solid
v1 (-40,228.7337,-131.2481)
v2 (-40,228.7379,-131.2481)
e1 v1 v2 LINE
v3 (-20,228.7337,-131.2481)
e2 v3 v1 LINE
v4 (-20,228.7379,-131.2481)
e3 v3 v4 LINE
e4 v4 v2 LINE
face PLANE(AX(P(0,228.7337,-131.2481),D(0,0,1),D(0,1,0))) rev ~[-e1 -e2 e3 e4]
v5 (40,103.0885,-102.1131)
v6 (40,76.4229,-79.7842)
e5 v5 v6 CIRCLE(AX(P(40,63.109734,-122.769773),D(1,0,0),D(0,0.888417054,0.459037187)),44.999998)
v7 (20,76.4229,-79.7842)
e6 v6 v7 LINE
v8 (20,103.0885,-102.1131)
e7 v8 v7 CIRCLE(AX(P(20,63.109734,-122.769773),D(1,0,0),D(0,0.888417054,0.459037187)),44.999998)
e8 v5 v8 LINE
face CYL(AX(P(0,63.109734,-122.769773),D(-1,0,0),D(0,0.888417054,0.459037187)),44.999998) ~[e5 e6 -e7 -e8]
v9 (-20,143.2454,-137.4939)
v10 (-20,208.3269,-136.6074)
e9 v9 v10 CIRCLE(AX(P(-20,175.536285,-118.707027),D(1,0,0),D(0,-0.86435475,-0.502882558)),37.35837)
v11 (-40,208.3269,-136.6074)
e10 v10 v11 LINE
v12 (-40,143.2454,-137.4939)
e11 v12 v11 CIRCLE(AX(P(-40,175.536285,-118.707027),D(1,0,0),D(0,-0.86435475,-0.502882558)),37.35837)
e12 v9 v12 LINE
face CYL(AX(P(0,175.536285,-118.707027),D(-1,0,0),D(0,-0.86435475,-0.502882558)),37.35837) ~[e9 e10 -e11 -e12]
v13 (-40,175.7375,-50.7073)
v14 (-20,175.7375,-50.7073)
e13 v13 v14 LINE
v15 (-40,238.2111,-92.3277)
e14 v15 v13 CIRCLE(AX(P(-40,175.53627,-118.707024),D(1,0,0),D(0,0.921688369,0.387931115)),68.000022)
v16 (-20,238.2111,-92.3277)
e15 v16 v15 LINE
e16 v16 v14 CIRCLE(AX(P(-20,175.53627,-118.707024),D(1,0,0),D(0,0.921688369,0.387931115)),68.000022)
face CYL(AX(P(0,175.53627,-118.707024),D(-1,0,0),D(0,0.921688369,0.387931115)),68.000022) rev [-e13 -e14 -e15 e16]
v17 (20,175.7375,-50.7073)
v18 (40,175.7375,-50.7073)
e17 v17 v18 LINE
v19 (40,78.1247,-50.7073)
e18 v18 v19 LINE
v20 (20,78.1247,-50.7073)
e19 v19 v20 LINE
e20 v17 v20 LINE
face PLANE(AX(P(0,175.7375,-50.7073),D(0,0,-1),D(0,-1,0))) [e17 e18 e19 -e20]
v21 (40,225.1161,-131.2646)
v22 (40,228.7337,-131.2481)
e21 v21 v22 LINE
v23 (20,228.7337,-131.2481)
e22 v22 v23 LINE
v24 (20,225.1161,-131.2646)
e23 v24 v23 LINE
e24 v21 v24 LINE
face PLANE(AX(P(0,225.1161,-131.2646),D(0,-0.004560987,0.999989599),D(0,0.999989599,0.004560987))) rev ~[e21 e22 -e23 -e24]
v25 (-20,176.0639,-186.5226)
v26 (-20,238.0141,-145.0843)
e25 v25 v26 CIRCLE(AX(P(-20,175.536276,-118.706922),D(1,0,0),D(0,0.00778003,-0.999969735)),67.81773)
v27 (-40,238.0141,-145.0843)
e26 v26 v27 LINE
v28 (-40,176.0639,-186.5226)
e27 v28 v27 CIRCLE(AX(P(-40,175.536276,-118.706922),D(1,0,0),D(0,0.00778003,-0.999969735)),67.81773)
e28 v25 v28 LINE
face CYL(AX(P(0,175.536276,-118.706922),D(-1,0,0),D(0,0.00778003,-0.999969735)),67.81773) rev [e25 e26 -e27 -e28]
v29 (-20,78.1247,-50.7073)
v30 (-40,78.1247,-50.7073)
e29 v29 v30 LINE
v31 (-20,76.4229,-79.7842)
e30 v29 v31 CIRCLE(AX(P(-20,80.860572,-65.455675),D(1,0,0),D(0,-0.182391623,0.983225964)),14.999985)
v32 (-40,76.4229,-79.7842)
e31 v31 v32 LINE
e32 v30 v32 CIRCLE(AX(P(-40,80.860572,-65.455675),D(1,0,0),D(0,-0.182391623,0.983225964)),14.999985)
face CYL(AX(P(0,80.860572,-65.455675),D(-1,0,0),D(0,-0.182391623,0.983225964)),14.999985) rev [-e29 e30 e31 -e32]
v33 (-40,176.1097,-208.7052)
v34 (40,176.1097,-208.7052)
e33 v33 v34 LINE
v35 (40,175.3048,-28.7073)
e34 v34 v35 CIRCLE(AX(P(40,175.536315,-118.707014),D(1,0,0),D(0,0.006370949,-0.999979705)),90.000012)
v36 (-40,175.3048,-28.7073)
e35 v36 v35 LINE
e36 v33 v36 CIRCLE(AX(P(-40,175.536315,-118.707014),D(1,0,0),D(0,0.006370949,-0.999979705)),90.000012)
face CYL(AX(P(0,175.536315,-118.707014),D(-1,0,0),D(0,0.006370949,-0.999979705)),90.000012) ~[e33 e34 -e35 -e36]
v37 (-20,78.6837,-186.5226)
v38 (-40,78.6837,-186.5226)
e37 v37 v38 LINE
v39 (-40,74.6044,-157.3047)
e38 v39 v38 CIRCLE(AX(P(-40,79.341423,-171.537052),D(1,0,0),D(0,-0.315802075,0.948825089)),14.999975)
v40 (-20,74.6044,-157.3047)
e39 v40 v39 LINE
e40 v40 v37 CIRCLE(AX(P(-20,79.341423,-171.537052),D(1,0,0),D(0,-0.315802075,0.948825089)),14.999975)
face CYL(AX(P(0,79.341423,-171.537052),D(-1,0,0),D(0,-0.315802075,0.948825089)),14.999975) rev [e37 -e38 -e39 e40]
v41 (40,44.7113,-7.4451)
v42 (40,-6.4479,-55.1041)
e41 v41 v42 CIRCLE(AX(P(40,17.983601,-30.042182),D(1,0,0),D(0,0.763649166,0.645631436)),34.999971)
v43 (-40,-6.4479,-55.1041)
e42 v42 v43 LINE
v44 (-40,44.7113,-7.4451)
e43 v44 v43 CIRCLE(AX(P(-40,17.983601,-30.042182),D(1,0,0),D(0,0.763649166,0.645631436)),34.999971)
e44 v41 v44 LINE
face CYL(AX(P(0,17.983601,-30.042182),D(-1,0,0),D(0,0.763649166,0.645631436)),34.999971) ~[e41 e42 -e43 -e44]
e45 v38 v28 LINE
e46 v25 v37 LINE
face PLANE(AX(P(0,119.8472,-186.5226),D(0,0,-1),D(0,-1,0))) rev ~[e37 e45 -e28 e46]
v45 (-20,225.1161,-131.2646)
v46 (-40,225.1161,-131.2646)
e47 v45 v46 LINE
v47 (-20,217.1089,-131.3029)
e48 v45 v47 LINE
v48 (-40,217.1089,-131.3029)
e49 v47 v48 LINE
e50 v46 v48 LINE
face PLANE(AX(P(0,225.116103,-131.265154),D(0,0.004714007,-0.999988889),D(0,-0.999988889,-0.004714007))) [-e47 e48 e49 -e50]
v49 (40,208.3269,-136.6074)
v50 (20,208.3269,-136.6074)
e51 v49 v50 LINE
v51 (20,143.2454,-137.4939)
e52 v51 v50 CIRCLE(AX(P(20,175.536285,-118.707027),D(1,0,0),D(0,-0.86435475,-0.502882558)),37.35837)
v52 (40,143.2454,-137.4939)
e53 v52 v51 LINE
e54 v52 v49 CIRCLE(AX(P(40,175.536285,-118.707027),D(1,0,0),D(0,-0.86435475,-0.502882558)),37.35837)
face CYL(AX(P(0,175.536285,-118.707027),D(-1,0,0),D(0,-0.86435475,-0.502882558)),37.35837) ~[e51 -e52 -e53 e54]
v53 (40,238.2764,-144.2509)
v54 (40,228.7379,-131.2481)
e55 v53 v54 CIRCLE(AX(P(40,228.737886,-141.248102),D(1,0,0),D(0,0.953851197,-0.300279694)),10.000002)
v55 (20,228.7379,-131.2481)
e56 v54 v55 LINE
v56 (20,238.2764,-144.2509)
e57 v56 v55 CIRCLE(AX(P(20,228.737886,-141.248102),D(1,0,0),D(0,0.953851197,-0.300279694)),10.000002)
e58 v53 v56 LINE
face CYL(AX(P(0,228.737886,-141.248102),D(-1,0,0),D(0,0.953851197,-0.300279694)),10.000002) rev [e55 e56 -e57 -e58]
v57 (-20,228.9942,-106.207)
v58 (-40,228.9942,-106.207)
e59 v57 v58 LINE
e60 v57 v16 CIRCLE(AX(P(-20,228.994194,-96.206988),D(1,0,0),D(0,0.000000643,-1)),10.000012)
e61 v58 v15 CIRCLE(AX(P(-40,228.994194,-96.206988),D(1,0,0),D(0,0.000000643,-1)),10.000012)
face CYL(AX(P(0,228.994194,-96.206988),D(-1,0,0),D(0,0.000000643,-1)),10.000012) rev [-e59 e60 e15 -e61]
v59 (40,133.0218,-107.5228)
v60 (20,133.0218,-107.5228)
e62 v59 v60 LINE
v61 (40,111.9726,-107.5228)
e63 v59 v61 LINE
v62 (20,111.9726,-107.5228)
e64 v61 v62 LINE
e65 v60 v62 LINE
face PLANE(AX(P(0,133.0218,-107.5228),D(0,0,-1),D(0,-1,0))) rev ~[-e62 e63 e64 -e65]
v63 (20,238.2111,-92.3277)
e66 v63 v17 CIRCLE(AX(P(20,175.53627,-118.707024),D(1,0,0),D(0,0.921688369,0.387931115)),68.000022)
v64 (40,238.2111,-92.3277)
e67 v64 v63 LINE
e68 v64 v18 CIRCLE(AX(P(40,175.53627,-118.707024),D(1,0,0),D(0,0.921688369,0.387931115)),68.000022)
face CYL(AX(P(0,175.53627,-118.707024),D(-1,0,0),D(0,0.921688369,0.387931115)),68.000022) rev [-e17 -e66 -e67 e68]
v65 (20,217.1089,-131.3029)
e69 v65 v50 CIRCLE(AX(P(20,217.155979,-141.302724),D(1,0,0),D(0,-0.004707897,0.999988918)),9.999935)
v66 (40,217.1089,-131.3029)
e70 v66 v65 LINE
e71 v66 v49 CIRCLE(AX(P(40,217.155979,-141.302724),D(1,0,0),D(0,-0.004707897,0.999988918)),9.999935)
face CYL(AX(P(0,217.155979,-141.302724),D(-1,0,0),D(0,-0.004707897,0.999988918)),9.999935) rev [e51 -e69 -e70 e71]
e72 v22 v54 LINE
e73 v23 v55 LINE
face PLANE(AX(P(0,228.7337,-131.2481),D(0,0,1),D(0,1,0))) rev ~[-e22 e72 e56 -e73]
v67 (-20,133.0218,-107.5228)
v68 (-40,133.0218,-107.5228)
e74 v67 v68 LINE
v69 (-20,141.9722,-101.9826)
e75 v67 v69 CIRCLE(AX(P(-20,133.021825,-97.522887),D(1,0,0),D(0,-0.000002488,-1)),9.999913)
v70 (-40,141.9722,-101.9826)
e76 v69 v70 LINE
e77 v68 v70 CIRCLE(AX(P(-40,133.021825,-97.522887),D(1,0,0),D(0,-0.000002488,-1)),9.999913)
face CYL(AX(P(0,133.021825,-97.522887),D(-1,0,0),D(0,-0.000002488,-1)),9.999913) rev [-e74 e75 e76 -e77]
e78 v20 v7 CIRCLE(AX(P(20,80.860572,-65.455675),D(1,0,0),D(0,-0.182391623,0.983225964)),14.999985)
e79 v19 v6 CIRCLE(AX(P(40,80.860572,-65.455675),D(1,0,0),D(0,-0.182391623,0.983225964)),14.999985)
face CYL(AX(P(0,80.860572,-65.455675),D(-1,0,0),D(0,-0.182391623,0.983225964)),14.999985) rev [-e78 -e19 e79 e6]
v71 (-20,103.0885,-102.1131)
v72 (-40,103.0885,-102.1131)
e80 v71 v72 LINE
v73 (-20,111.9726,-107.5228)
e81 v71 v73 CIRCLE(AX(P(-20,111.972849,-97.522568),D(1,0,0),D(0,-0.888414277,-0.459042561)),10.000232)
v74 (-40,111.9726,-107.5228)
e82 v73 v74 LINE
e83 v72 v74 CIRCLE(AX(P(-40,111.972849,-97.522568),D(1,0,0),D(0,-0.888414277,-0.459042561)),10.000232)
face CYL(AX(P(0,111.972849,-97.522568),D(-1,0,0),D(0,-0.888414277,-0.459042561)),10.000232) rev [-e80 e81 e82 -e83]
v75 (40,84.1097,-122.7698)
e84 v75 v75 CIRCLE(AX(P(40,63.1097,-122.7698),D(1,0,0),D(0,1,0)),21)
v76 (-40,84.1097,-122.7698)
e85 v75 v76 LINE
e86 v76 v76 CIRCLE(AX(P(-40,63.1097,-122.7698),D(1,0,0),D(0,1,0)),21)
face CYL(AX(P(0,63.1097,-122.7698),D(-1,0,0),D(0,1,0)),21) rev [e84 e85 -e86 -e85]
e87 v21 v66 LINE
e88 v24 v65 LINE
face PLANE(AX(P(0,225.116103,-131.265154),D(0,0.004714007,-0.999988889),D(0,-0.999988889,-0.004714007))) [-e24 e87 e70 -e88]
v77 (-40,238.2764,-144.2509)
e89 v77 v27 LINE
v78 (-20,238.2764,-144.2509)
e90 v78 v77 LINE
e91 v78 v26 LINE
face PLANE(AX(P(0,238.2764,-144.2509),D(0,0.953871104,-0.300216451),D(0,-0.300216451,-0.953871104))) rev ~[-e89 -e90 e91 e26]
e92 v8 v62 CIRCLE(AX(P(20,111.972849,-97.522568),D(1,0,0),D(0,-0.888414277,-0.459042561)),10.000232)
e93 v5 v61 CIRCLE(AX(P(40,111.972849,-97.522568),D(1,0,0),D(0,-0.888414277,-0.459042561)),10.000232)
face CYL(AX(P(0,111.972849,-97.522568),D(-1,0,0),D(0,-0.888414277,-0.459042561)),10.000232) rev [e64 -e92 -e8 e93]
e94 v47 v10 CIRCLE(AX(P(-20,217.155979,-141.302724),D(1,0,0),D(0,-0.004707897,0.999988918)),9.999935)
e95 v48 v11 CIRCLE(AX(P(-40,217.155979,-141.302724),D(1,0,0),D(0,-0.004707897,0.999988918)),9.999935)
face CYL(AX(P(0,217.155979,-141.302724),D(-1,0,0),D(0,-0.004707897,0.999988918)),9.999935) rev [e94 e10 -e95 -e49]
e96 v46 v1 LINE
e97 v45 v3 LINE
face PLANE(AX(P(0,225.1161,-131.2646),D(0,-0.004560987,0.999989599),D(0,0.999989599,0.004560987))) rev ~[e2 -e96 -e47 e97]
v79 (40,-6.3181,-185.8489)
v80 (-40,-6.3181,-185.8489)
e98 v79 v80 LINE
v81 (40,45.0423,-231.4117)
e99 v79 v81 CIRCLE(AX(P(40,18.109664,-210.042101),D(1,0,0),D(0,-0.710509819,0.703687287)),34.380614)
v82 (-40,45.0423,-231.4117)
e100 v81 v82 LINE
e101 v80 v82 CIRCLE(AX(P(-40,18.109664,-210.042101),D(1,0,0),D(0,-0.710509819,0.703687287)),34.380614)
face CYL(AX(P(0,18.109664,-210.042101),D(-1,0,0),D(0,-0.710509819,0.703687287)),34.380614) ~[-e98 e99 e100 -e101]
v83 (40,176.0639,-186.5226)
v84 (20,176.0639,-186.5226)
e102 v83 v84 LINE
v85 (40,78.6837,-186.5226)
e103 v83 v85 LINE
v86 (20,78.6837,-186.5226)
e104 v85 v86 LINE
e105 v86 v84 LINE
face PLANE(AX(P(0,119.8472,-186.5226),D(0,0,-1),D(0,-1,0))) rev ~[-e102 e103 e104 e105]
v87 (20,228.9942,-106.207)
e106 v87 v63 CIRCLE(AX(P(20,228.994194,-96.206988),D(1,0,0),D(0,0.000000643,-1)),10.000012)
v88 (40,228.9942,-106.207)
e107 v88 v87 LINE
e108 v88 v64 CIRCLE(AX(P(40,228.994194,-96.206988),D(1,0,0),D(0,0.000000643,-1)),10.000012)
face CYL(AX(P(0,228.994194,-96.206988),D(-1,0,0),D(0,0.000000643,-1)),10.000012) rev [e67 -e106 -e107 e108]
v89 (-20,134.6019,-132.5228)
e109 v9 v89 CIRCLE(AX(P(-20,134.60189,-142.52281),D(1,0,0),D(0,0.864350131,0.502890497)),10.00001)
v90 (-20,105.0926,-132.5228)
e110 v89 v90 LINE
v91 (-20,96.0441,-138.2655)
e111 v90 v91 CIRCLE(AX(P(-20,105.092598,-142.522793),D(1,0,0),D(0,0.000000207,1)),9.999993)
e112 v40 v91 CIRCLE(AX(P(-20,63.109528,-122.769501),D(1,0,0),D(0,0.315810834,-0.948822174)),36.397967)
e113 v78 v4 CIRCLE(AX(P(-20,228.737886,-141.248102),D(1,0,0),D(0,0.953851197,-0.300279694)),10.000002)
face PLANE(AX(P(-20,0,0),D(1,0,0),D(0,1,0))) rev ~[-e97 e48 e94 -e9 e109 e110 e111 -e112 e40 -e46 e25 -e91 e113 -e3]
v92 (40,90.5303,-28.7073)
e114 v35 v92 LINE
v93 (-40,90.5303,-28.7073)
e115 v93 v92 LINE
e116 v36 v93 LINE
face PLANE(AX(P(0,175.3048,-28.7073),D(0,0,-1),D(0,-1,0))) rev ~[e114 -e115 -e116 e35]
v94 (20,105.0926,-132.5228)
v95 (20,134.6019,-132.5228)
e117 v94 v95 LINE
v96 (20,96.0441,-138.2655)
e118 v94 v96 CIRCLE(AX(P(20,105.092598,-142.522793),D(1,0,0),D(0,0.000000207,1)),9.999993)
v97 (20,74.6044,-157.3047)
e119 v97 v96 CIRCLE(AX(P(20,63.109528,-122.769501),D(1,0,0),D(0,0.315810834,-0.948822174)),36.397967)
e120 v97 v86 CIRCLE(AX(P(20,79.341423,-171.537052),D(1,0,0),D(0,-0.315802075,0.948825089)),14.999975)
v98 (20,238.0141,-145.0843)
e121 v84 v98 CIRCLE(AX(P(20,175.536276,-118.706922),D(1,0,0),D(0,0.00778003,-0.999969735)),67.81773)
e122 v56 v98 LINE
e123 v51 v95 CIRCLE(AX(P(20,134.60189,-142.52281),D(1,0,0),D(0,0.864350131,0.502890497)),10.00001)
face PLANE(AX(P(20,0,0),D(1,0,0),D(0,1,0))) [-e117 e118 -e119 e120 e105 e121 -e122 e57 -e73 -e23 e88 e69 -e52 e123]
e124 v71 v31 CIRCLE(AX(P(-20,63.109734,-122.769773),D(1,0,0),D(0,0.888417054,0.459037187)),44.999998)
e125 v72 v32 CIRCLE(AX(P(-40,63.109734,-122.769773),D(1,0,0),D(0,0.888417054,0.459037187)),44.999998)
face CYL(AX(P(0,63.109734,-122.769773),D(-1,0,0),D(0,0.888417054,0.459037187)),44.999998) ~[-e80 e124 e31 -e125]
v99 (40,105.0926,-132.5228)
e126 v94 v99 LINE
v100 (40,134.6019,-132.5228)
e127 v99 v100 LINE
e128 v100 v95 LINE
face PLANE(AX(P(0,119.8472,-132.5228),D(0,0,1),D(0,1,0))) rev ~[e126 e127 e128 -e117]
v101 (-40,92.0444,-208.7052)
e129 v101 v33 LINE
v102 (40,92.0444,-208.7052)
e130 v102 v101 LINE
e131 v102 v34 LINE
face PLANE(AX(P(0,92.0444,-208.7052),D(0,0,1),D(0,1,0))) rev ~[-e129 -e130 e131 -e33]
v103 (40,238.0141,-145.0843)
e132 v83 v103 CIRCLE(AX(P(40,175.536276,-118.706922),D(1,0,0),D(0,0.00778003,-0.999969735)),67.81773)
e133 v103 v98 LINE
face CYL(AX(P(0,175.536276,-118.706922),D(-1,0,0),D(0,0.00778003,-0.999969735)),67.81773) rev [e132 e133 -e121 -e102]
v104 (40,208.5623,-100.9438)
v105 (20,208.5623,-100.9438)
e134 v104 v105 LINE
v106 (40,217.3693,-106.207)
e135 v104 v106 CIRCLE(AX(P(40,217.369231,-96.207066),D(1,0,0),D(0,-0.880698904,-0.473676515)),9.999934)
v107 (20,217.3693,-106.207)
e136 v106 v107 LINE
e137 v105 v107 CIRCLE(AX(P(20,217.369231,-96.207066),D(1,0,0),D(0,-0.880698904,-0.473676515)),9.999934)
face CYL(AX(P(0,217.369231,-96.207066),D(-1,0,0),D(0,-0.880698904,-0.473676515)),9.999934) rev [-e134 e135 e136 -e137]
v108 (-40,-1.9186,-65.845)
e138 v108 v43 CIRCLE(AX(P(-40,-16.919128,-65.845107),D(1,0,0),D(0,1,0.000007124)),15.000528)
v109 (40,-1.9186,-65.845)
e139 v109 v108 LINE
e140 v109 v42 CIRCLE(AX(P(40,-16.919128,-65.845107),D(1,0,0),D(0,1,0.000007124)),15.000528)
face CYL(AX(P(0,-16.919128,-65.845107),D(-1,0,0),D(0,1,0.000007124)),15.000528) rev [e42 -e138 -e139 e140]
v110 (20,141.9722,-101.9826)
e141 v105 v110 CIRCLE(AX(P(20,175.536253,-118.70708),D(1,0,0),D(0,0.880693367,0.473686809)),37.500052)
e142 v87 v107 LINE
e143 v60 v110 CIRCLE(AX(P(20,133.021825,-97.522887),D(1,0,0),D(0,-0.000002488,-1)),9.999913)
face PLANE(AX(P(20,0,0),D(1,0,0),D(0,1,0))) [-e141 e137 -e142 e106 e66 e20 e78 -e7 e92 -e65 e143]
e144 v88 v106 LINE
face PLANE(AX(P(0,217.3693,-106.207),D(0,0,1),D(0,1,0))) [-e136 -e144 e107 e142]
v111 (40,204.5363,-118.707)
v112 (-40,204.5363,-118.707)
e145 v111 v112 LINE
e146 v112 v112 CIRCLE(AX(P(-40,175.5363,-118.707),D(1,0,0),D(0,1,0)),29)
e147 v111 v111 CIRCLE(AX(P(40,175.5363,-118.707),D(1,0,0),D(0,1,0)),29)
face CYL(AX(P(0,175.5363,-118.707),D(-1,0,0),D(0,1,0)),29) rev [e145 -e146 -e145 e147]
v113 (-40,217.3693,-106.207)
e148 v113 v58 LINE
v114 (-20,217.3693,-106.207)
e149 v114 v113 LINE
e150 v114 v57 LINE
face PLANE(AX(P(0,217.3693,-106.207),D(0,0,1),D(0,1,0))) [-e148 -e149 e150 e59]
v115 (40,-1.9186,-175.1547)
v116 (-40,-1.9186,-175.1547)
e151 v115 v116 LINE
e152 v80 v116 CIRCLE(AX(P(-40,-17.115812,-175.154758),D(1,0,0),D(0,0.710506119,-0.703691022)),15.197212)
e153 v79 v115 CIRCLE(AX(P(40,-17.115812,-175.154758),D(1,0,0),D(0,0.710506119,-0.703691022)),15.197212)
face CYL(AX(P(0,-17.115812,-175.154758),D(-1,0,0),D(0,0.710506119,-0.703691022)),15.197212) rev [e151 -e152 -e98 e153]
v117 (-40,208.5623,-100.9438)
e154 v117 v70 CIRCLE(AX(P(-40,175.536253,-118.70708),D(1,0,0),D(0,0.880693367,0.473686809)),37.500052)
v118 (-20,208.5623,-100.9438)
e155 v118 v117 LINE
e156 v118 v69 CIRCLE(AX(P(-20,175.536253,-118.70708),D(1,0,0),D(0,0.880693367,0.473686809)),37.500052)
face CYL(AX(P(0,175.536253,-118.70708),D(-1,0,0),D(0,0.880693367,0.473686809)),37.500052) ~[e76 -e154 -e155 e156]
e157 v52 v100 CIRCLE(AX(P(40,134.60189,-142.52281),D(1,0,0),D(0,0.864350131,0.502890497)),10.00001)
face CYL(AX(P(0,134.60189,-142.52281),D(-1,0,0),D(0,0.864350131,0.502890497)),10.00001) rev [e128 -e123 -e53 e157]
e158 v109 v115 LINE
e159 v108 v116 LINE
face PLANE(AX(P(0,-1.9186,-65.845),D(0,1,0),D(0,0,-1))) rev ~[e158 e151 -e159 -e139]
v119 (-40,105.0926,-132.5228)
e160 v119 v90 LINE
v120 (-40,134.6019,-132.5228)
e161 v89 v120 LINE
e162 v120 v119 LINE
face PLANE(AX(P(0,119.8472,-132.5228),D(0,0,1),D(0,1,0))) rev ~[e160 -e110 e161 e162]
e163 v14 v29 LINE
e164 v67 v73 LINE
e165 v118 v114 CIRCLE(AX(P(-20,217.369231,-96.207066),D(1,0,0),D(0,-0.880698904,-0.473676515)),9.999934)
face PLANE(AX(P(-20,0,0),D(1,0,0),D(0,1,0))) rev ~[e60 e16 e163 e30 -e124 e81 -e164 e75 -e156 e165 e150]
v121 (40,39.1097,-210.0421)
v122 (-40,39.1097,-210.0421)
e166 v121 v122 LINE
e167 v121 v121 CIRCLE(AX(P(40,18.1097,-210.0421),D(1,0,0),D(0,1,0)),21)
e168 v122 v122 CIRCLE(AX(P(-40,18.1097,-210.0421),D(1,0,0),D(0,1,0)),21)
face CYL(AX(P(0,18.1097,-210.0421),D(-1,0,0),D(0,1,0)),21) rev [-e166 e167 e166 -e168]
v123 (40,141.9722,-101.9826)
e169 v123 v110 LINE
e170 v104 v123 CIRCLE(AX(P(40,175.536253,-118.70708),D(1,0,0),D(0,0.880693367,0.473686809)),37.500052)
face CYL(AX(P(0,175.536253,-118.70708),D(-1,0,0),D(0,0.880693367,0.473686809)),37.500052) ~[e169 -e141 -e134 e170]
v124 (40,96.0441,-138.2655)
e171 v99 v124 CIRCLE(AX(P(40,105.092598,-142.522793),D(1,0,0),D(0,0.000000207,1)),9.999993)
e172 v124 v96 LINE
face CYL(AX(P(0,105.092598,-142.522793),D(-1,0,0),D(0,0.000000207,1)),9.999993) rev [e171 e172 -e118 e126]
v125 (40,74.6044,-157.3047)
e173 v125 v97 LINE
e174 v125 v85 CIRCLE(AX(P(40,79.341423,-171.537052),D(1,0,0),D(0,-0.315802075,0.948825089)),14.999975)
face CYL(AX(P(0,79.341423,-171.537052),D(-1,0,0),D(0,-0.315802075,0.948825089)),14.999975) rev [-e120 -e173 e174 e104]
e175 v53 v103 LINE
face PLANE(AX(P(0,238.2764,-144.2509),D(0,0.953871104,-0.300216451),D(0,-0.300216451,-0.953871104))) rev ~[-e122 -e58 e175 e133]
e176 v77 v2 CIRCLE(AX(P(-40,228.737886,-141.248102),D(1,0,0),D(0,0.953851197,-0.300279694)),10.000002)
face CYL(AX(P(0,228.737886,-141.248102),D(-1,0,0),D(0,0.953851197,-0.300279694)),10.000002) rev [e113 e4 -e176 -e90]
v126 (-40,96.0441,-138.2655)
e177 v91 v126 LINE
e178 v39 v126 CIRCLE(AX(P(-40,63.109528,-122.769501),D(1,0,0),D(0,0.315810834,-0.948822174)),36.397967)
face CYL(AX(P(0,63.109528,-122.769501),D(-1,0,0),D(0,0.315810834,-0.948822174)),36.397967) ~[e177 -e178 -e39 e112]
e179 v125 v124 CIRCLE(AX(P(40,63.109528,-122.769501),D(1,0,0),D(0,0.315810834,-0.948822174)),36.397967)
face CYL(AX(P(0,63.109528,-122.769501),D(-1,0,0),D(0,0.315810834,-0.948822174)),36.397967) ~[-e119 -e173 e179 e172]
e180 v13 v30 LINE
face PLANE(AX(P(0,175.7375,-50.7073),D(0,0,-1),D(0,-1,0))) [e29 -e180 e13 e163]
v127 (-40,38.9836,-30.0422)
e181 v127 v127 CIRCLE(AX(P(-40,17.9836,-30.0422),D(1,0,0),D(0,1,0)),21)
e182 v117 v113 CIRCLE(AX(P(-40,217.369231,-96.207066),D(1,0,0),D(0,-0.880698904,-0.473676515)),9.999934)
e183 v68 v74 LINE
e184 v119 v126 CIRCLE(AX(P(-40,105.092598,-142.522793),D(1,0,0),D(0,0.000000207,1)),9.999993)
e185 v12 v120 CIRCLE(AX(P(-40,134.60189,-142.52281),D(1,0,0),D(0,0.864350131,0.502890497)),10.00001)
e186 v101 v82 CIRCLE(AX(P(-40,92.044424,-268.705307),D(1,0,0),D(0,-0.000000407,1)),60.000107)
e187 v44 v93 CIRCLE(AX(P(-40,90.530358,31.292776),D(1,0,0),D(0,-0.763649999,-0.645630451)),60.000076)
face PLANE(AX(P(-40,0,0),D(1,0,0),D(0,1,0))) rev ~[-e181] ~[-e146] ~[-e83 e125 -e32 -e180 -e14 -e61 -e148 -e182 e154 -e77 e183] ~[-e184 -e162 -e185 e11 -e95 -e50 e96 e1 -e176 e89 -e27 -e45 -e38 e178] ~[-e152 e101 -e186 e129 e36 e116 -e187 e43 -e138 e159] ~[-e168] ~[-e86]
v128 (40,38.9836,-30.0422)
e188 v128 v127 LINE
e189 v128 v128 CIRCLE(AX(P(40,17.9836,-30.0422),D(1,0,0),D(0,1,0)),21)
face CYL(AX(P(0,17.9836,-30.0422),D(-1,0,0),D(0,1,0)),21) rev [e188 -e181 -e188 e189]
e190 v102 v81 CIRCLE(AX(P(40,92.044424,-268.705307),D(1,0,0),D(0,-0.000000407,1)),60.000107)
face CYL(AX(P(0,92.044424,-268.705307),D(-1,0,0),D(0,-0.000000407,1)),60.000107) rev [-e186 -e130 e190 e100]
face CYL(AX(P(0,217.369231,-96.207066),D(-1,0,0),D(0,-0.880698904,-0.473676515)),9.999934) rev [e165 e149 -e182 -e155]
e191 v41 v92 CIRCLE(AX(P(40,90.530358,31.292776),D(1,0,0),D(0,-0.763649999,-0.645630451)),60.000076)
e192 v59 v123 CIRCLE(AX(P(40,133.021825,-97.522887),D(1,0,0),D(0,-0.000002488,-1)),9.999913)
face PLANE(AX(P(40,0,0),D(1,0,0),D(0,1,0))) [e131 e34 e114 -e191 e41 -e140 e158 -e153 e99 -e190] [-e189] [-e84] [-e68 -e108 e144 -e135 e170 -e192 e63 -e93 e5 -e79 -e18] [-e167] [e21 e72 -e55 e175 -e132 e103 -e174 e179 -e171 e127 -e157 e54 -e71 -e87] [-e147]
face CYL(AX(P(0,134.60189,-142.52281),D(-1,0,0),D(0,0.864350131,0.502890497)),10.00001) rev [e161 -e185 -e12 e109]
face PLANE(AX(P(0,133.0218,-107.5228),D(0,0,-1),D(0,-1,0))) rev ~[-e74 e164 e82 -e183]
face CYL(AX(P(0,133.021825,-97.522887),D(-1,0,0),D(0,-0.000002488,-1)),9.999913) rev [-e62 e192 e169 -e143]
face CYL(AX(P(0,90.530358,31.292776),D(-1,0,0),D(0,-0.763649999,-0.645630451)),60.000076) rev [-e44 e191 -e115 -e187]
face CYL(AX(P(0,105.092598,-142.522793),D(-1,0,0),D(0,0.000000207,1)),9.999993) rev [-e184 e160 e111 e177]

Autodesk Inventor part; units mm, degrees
ref_plane "YZ Plane" through (0, 0, 0) normal (1, 0, 0) x (0, 1, 0)
ref_plane "XZ Plane" through (0, 0, 0) normal (0, 1, 0) x (-1, 0, 0)
ref_plane "XY Plane" through (0, 0, 0) normal (0, 0, 1) x (1, 0, 0)
sketch "Sketch1" plane through (0, 0, 0) normal (1, 0, 0) x (0, 1, 0)
  arc A0 (176.1097, -208.7052) -> (175.3048, -28.7073) centre (175.5363, -118.707) ccw
  line L0 (175.3048, -28.7073) -> (90.5303, -28.7073)
  line L1 (-1.9186, -65.845) -> (-1.9186, -175.1547)
  line L2 (92.0444, -208.7052) -> (176.1097, -208.7052)
  arc A1 (44.7113, -7.4451) -> (-6.4479, -55.1041) centre (17.9836, -30.0422) ccw
  arc A2 (-6.3181, -185.8489) -> (45.0423, -231.4117) centre (18.1097, -210.0421) ccw
  line L3 (175.7375, -50.7073) -> (78.1247, -50.7073)
  line L4 (133.0218, -107.5228) -> (111.9726, -107.5228)
  line L5 (105.0926, -132.5228) -> (134.6019, -132.5228)
  arc A3 (208.5623, -100.9438) -> (141.9722, -101.9826) centre (175.5363, -118.707) ccw
  arc A4 (103.0885, -102.1131) -> (76.4229, -79.7842) centre (63.1097, -122.7698) ccw
  arc A5 (74.6044, -157.3047) -> (96.0441, -138.2655) centre (63.1097, -122.7698) ccw
  circle A6 centre (63.1097, -122.7698) radius 21
  circle A7 centre (17.9836, -30.0422) radius 21
  circle A8 centre (18.1097, -210.0421) radius 21
  arc A9 (44.7113, -7.4451) -> (90.5303, -28.7073) centre (90.5303, 31.2927) ccw
  arc A10 (92.0444, -208.7052) -> (45.0423, -231.4117) centre (92.0444, -268.7052) ccw
  arc A11 (-1.9186, -65.845) -> (-6.4479, -55.1041) centre (-16.9186, -65.845) ccw
  arc A12 (-6.3181, -185.8489) -> (-1.9186, -175.1547) centre (-17.1159, -175.1547) ccw
  arc A13 (78.1247, -50.7073) -> (76.4229, -79.7842) centre (80.8606, -65.4557) ccw
  arc A14 (74.6044, -157.3047) -> (78.6837, -186.5226) centre (79.3415, -171.5371) ccw
  circle A15 centre (175.5363, -118.707) radius 29
  arc A16 (133.0218, -107.5228) -> (141.9722, -101.9826) centre (133.0218, -97.5228) ccw
  arc A17 (143.2454, -137.4939) -> (134.6019, -132.5228) centre (134.6019, -142.5228) ccw
  arc A18 (103.0885, -102.1131) -> (111.9726, -107.5228) centre (111.9726, -97.5228) ccw
  arc A19 (105.0926, -132.5228) -> (96.0441, -138.2655) centre (105.0926, -142.5228) ccw
  line L6 (217.3693, -106.207) -> (225.3783, -106.207)
  line L7 (225.3783, -106.207) -> (229.2504, -106.207)
  line L8 (225.1161, -131.2646) -> (228.7337, -131.2481)
  line L9 (228.7337, -131.2481) -> (217.1089, -131.3029)
  arc A20 (217.1089, -131.3029) -> (208.3269, -136.6074) centre (217.156, -141.3028) ccw
  arc A21 (208.5623, -100.9438) -> (217.3693, -106.207) centre (217.3693, -96.207) ccw
  line L10 (119.8472, -132.5228) -> (119.8472, -186.8276)
  arc A22 (176.0639, -186.5226) -> (238.0141, -145.0843) centre (175.5363, -118.707) ccw
  arc A23 (143.2454, -137.4939) -> (208.3269, -136.6074) centre (175.5363, -118.707) ccw
  line L11 (176.0639, -186.5226) -> (78.6837, -186.5226)
  arc A24 (238.2111, -92.3277) -> (175.7375, -50.7073) centre (175.5363, -118.707) ccw
  line L12 (229.2504, -106.207) -> (228.9942, -106.207)
  arc A25 (228.9942, -106.207) -> (238.2111, -92.3277) centre (228.9942, -96.207) ccw
  line L13 (228.7337, -131.2481) -> (228.7379, -131.2481)
  line L14 (238.2764, -144.2509) -> (238.0141, -145.0843)
  arc A26 (238.2764, -144.2509) -> (228.7379, -131.2481) centre (228.7379, -141.2481) ccw
  point P0 (0, 0)
  point P1 (0, 0)
  point P2 (-1.9186, -182.0976)
  point P3 (139.7429, -107.5228)
  point P4 (140.8602, -132.5228)
  point P5 (105.4479, -107.5228)
  point P6 (98.1763, -132.5228)
  point P7 (-1.9186, -58.8329)
  point P8 (210.8916, -106.207)
  point P9 (242.3775, -106.207)
  dimension "d36" = 60
  dimension "d37" = 42
  dimension "d38" = 35
  dimension "d40" = 42
  dimension "d41" = 45
  dimension "d42" = 45
  dimension "d50" = 90
  dimension "d51" = 15
  dimension "d52" = 15
  dimension "d53" = 15
  dimension "d54" = 180
  dimension "d55" = 60
  dimension "d64" = 58
  dimension "d66" = 25
  dimension "d68" = 10
  dimension "d69" = 37.5
  dimension "d75" = 22
  dimension "d79" = 10
extrude "Extrusion1" add sketch "Sketch1" along normal blind 40 and the other way blind 40
sketch "Sketch2" plane through (40, 0, 0) normal (1, 0, 0) x (0, 0, -1)
  point P0 (0, 0)
extrude "Extrusion2" add sketch "Sketch1" along normal blind 20 and the other way blind 20 contours A24 A25 L7 L6 A21 A3 A16 L4 A18 A4 A13 L3 | L5 L10 L11 A14 A5 A19 | L5 A17 A23 A20 L9 L8 L13 A26 L14 A22 L11 L10
properties part number "hw1"
